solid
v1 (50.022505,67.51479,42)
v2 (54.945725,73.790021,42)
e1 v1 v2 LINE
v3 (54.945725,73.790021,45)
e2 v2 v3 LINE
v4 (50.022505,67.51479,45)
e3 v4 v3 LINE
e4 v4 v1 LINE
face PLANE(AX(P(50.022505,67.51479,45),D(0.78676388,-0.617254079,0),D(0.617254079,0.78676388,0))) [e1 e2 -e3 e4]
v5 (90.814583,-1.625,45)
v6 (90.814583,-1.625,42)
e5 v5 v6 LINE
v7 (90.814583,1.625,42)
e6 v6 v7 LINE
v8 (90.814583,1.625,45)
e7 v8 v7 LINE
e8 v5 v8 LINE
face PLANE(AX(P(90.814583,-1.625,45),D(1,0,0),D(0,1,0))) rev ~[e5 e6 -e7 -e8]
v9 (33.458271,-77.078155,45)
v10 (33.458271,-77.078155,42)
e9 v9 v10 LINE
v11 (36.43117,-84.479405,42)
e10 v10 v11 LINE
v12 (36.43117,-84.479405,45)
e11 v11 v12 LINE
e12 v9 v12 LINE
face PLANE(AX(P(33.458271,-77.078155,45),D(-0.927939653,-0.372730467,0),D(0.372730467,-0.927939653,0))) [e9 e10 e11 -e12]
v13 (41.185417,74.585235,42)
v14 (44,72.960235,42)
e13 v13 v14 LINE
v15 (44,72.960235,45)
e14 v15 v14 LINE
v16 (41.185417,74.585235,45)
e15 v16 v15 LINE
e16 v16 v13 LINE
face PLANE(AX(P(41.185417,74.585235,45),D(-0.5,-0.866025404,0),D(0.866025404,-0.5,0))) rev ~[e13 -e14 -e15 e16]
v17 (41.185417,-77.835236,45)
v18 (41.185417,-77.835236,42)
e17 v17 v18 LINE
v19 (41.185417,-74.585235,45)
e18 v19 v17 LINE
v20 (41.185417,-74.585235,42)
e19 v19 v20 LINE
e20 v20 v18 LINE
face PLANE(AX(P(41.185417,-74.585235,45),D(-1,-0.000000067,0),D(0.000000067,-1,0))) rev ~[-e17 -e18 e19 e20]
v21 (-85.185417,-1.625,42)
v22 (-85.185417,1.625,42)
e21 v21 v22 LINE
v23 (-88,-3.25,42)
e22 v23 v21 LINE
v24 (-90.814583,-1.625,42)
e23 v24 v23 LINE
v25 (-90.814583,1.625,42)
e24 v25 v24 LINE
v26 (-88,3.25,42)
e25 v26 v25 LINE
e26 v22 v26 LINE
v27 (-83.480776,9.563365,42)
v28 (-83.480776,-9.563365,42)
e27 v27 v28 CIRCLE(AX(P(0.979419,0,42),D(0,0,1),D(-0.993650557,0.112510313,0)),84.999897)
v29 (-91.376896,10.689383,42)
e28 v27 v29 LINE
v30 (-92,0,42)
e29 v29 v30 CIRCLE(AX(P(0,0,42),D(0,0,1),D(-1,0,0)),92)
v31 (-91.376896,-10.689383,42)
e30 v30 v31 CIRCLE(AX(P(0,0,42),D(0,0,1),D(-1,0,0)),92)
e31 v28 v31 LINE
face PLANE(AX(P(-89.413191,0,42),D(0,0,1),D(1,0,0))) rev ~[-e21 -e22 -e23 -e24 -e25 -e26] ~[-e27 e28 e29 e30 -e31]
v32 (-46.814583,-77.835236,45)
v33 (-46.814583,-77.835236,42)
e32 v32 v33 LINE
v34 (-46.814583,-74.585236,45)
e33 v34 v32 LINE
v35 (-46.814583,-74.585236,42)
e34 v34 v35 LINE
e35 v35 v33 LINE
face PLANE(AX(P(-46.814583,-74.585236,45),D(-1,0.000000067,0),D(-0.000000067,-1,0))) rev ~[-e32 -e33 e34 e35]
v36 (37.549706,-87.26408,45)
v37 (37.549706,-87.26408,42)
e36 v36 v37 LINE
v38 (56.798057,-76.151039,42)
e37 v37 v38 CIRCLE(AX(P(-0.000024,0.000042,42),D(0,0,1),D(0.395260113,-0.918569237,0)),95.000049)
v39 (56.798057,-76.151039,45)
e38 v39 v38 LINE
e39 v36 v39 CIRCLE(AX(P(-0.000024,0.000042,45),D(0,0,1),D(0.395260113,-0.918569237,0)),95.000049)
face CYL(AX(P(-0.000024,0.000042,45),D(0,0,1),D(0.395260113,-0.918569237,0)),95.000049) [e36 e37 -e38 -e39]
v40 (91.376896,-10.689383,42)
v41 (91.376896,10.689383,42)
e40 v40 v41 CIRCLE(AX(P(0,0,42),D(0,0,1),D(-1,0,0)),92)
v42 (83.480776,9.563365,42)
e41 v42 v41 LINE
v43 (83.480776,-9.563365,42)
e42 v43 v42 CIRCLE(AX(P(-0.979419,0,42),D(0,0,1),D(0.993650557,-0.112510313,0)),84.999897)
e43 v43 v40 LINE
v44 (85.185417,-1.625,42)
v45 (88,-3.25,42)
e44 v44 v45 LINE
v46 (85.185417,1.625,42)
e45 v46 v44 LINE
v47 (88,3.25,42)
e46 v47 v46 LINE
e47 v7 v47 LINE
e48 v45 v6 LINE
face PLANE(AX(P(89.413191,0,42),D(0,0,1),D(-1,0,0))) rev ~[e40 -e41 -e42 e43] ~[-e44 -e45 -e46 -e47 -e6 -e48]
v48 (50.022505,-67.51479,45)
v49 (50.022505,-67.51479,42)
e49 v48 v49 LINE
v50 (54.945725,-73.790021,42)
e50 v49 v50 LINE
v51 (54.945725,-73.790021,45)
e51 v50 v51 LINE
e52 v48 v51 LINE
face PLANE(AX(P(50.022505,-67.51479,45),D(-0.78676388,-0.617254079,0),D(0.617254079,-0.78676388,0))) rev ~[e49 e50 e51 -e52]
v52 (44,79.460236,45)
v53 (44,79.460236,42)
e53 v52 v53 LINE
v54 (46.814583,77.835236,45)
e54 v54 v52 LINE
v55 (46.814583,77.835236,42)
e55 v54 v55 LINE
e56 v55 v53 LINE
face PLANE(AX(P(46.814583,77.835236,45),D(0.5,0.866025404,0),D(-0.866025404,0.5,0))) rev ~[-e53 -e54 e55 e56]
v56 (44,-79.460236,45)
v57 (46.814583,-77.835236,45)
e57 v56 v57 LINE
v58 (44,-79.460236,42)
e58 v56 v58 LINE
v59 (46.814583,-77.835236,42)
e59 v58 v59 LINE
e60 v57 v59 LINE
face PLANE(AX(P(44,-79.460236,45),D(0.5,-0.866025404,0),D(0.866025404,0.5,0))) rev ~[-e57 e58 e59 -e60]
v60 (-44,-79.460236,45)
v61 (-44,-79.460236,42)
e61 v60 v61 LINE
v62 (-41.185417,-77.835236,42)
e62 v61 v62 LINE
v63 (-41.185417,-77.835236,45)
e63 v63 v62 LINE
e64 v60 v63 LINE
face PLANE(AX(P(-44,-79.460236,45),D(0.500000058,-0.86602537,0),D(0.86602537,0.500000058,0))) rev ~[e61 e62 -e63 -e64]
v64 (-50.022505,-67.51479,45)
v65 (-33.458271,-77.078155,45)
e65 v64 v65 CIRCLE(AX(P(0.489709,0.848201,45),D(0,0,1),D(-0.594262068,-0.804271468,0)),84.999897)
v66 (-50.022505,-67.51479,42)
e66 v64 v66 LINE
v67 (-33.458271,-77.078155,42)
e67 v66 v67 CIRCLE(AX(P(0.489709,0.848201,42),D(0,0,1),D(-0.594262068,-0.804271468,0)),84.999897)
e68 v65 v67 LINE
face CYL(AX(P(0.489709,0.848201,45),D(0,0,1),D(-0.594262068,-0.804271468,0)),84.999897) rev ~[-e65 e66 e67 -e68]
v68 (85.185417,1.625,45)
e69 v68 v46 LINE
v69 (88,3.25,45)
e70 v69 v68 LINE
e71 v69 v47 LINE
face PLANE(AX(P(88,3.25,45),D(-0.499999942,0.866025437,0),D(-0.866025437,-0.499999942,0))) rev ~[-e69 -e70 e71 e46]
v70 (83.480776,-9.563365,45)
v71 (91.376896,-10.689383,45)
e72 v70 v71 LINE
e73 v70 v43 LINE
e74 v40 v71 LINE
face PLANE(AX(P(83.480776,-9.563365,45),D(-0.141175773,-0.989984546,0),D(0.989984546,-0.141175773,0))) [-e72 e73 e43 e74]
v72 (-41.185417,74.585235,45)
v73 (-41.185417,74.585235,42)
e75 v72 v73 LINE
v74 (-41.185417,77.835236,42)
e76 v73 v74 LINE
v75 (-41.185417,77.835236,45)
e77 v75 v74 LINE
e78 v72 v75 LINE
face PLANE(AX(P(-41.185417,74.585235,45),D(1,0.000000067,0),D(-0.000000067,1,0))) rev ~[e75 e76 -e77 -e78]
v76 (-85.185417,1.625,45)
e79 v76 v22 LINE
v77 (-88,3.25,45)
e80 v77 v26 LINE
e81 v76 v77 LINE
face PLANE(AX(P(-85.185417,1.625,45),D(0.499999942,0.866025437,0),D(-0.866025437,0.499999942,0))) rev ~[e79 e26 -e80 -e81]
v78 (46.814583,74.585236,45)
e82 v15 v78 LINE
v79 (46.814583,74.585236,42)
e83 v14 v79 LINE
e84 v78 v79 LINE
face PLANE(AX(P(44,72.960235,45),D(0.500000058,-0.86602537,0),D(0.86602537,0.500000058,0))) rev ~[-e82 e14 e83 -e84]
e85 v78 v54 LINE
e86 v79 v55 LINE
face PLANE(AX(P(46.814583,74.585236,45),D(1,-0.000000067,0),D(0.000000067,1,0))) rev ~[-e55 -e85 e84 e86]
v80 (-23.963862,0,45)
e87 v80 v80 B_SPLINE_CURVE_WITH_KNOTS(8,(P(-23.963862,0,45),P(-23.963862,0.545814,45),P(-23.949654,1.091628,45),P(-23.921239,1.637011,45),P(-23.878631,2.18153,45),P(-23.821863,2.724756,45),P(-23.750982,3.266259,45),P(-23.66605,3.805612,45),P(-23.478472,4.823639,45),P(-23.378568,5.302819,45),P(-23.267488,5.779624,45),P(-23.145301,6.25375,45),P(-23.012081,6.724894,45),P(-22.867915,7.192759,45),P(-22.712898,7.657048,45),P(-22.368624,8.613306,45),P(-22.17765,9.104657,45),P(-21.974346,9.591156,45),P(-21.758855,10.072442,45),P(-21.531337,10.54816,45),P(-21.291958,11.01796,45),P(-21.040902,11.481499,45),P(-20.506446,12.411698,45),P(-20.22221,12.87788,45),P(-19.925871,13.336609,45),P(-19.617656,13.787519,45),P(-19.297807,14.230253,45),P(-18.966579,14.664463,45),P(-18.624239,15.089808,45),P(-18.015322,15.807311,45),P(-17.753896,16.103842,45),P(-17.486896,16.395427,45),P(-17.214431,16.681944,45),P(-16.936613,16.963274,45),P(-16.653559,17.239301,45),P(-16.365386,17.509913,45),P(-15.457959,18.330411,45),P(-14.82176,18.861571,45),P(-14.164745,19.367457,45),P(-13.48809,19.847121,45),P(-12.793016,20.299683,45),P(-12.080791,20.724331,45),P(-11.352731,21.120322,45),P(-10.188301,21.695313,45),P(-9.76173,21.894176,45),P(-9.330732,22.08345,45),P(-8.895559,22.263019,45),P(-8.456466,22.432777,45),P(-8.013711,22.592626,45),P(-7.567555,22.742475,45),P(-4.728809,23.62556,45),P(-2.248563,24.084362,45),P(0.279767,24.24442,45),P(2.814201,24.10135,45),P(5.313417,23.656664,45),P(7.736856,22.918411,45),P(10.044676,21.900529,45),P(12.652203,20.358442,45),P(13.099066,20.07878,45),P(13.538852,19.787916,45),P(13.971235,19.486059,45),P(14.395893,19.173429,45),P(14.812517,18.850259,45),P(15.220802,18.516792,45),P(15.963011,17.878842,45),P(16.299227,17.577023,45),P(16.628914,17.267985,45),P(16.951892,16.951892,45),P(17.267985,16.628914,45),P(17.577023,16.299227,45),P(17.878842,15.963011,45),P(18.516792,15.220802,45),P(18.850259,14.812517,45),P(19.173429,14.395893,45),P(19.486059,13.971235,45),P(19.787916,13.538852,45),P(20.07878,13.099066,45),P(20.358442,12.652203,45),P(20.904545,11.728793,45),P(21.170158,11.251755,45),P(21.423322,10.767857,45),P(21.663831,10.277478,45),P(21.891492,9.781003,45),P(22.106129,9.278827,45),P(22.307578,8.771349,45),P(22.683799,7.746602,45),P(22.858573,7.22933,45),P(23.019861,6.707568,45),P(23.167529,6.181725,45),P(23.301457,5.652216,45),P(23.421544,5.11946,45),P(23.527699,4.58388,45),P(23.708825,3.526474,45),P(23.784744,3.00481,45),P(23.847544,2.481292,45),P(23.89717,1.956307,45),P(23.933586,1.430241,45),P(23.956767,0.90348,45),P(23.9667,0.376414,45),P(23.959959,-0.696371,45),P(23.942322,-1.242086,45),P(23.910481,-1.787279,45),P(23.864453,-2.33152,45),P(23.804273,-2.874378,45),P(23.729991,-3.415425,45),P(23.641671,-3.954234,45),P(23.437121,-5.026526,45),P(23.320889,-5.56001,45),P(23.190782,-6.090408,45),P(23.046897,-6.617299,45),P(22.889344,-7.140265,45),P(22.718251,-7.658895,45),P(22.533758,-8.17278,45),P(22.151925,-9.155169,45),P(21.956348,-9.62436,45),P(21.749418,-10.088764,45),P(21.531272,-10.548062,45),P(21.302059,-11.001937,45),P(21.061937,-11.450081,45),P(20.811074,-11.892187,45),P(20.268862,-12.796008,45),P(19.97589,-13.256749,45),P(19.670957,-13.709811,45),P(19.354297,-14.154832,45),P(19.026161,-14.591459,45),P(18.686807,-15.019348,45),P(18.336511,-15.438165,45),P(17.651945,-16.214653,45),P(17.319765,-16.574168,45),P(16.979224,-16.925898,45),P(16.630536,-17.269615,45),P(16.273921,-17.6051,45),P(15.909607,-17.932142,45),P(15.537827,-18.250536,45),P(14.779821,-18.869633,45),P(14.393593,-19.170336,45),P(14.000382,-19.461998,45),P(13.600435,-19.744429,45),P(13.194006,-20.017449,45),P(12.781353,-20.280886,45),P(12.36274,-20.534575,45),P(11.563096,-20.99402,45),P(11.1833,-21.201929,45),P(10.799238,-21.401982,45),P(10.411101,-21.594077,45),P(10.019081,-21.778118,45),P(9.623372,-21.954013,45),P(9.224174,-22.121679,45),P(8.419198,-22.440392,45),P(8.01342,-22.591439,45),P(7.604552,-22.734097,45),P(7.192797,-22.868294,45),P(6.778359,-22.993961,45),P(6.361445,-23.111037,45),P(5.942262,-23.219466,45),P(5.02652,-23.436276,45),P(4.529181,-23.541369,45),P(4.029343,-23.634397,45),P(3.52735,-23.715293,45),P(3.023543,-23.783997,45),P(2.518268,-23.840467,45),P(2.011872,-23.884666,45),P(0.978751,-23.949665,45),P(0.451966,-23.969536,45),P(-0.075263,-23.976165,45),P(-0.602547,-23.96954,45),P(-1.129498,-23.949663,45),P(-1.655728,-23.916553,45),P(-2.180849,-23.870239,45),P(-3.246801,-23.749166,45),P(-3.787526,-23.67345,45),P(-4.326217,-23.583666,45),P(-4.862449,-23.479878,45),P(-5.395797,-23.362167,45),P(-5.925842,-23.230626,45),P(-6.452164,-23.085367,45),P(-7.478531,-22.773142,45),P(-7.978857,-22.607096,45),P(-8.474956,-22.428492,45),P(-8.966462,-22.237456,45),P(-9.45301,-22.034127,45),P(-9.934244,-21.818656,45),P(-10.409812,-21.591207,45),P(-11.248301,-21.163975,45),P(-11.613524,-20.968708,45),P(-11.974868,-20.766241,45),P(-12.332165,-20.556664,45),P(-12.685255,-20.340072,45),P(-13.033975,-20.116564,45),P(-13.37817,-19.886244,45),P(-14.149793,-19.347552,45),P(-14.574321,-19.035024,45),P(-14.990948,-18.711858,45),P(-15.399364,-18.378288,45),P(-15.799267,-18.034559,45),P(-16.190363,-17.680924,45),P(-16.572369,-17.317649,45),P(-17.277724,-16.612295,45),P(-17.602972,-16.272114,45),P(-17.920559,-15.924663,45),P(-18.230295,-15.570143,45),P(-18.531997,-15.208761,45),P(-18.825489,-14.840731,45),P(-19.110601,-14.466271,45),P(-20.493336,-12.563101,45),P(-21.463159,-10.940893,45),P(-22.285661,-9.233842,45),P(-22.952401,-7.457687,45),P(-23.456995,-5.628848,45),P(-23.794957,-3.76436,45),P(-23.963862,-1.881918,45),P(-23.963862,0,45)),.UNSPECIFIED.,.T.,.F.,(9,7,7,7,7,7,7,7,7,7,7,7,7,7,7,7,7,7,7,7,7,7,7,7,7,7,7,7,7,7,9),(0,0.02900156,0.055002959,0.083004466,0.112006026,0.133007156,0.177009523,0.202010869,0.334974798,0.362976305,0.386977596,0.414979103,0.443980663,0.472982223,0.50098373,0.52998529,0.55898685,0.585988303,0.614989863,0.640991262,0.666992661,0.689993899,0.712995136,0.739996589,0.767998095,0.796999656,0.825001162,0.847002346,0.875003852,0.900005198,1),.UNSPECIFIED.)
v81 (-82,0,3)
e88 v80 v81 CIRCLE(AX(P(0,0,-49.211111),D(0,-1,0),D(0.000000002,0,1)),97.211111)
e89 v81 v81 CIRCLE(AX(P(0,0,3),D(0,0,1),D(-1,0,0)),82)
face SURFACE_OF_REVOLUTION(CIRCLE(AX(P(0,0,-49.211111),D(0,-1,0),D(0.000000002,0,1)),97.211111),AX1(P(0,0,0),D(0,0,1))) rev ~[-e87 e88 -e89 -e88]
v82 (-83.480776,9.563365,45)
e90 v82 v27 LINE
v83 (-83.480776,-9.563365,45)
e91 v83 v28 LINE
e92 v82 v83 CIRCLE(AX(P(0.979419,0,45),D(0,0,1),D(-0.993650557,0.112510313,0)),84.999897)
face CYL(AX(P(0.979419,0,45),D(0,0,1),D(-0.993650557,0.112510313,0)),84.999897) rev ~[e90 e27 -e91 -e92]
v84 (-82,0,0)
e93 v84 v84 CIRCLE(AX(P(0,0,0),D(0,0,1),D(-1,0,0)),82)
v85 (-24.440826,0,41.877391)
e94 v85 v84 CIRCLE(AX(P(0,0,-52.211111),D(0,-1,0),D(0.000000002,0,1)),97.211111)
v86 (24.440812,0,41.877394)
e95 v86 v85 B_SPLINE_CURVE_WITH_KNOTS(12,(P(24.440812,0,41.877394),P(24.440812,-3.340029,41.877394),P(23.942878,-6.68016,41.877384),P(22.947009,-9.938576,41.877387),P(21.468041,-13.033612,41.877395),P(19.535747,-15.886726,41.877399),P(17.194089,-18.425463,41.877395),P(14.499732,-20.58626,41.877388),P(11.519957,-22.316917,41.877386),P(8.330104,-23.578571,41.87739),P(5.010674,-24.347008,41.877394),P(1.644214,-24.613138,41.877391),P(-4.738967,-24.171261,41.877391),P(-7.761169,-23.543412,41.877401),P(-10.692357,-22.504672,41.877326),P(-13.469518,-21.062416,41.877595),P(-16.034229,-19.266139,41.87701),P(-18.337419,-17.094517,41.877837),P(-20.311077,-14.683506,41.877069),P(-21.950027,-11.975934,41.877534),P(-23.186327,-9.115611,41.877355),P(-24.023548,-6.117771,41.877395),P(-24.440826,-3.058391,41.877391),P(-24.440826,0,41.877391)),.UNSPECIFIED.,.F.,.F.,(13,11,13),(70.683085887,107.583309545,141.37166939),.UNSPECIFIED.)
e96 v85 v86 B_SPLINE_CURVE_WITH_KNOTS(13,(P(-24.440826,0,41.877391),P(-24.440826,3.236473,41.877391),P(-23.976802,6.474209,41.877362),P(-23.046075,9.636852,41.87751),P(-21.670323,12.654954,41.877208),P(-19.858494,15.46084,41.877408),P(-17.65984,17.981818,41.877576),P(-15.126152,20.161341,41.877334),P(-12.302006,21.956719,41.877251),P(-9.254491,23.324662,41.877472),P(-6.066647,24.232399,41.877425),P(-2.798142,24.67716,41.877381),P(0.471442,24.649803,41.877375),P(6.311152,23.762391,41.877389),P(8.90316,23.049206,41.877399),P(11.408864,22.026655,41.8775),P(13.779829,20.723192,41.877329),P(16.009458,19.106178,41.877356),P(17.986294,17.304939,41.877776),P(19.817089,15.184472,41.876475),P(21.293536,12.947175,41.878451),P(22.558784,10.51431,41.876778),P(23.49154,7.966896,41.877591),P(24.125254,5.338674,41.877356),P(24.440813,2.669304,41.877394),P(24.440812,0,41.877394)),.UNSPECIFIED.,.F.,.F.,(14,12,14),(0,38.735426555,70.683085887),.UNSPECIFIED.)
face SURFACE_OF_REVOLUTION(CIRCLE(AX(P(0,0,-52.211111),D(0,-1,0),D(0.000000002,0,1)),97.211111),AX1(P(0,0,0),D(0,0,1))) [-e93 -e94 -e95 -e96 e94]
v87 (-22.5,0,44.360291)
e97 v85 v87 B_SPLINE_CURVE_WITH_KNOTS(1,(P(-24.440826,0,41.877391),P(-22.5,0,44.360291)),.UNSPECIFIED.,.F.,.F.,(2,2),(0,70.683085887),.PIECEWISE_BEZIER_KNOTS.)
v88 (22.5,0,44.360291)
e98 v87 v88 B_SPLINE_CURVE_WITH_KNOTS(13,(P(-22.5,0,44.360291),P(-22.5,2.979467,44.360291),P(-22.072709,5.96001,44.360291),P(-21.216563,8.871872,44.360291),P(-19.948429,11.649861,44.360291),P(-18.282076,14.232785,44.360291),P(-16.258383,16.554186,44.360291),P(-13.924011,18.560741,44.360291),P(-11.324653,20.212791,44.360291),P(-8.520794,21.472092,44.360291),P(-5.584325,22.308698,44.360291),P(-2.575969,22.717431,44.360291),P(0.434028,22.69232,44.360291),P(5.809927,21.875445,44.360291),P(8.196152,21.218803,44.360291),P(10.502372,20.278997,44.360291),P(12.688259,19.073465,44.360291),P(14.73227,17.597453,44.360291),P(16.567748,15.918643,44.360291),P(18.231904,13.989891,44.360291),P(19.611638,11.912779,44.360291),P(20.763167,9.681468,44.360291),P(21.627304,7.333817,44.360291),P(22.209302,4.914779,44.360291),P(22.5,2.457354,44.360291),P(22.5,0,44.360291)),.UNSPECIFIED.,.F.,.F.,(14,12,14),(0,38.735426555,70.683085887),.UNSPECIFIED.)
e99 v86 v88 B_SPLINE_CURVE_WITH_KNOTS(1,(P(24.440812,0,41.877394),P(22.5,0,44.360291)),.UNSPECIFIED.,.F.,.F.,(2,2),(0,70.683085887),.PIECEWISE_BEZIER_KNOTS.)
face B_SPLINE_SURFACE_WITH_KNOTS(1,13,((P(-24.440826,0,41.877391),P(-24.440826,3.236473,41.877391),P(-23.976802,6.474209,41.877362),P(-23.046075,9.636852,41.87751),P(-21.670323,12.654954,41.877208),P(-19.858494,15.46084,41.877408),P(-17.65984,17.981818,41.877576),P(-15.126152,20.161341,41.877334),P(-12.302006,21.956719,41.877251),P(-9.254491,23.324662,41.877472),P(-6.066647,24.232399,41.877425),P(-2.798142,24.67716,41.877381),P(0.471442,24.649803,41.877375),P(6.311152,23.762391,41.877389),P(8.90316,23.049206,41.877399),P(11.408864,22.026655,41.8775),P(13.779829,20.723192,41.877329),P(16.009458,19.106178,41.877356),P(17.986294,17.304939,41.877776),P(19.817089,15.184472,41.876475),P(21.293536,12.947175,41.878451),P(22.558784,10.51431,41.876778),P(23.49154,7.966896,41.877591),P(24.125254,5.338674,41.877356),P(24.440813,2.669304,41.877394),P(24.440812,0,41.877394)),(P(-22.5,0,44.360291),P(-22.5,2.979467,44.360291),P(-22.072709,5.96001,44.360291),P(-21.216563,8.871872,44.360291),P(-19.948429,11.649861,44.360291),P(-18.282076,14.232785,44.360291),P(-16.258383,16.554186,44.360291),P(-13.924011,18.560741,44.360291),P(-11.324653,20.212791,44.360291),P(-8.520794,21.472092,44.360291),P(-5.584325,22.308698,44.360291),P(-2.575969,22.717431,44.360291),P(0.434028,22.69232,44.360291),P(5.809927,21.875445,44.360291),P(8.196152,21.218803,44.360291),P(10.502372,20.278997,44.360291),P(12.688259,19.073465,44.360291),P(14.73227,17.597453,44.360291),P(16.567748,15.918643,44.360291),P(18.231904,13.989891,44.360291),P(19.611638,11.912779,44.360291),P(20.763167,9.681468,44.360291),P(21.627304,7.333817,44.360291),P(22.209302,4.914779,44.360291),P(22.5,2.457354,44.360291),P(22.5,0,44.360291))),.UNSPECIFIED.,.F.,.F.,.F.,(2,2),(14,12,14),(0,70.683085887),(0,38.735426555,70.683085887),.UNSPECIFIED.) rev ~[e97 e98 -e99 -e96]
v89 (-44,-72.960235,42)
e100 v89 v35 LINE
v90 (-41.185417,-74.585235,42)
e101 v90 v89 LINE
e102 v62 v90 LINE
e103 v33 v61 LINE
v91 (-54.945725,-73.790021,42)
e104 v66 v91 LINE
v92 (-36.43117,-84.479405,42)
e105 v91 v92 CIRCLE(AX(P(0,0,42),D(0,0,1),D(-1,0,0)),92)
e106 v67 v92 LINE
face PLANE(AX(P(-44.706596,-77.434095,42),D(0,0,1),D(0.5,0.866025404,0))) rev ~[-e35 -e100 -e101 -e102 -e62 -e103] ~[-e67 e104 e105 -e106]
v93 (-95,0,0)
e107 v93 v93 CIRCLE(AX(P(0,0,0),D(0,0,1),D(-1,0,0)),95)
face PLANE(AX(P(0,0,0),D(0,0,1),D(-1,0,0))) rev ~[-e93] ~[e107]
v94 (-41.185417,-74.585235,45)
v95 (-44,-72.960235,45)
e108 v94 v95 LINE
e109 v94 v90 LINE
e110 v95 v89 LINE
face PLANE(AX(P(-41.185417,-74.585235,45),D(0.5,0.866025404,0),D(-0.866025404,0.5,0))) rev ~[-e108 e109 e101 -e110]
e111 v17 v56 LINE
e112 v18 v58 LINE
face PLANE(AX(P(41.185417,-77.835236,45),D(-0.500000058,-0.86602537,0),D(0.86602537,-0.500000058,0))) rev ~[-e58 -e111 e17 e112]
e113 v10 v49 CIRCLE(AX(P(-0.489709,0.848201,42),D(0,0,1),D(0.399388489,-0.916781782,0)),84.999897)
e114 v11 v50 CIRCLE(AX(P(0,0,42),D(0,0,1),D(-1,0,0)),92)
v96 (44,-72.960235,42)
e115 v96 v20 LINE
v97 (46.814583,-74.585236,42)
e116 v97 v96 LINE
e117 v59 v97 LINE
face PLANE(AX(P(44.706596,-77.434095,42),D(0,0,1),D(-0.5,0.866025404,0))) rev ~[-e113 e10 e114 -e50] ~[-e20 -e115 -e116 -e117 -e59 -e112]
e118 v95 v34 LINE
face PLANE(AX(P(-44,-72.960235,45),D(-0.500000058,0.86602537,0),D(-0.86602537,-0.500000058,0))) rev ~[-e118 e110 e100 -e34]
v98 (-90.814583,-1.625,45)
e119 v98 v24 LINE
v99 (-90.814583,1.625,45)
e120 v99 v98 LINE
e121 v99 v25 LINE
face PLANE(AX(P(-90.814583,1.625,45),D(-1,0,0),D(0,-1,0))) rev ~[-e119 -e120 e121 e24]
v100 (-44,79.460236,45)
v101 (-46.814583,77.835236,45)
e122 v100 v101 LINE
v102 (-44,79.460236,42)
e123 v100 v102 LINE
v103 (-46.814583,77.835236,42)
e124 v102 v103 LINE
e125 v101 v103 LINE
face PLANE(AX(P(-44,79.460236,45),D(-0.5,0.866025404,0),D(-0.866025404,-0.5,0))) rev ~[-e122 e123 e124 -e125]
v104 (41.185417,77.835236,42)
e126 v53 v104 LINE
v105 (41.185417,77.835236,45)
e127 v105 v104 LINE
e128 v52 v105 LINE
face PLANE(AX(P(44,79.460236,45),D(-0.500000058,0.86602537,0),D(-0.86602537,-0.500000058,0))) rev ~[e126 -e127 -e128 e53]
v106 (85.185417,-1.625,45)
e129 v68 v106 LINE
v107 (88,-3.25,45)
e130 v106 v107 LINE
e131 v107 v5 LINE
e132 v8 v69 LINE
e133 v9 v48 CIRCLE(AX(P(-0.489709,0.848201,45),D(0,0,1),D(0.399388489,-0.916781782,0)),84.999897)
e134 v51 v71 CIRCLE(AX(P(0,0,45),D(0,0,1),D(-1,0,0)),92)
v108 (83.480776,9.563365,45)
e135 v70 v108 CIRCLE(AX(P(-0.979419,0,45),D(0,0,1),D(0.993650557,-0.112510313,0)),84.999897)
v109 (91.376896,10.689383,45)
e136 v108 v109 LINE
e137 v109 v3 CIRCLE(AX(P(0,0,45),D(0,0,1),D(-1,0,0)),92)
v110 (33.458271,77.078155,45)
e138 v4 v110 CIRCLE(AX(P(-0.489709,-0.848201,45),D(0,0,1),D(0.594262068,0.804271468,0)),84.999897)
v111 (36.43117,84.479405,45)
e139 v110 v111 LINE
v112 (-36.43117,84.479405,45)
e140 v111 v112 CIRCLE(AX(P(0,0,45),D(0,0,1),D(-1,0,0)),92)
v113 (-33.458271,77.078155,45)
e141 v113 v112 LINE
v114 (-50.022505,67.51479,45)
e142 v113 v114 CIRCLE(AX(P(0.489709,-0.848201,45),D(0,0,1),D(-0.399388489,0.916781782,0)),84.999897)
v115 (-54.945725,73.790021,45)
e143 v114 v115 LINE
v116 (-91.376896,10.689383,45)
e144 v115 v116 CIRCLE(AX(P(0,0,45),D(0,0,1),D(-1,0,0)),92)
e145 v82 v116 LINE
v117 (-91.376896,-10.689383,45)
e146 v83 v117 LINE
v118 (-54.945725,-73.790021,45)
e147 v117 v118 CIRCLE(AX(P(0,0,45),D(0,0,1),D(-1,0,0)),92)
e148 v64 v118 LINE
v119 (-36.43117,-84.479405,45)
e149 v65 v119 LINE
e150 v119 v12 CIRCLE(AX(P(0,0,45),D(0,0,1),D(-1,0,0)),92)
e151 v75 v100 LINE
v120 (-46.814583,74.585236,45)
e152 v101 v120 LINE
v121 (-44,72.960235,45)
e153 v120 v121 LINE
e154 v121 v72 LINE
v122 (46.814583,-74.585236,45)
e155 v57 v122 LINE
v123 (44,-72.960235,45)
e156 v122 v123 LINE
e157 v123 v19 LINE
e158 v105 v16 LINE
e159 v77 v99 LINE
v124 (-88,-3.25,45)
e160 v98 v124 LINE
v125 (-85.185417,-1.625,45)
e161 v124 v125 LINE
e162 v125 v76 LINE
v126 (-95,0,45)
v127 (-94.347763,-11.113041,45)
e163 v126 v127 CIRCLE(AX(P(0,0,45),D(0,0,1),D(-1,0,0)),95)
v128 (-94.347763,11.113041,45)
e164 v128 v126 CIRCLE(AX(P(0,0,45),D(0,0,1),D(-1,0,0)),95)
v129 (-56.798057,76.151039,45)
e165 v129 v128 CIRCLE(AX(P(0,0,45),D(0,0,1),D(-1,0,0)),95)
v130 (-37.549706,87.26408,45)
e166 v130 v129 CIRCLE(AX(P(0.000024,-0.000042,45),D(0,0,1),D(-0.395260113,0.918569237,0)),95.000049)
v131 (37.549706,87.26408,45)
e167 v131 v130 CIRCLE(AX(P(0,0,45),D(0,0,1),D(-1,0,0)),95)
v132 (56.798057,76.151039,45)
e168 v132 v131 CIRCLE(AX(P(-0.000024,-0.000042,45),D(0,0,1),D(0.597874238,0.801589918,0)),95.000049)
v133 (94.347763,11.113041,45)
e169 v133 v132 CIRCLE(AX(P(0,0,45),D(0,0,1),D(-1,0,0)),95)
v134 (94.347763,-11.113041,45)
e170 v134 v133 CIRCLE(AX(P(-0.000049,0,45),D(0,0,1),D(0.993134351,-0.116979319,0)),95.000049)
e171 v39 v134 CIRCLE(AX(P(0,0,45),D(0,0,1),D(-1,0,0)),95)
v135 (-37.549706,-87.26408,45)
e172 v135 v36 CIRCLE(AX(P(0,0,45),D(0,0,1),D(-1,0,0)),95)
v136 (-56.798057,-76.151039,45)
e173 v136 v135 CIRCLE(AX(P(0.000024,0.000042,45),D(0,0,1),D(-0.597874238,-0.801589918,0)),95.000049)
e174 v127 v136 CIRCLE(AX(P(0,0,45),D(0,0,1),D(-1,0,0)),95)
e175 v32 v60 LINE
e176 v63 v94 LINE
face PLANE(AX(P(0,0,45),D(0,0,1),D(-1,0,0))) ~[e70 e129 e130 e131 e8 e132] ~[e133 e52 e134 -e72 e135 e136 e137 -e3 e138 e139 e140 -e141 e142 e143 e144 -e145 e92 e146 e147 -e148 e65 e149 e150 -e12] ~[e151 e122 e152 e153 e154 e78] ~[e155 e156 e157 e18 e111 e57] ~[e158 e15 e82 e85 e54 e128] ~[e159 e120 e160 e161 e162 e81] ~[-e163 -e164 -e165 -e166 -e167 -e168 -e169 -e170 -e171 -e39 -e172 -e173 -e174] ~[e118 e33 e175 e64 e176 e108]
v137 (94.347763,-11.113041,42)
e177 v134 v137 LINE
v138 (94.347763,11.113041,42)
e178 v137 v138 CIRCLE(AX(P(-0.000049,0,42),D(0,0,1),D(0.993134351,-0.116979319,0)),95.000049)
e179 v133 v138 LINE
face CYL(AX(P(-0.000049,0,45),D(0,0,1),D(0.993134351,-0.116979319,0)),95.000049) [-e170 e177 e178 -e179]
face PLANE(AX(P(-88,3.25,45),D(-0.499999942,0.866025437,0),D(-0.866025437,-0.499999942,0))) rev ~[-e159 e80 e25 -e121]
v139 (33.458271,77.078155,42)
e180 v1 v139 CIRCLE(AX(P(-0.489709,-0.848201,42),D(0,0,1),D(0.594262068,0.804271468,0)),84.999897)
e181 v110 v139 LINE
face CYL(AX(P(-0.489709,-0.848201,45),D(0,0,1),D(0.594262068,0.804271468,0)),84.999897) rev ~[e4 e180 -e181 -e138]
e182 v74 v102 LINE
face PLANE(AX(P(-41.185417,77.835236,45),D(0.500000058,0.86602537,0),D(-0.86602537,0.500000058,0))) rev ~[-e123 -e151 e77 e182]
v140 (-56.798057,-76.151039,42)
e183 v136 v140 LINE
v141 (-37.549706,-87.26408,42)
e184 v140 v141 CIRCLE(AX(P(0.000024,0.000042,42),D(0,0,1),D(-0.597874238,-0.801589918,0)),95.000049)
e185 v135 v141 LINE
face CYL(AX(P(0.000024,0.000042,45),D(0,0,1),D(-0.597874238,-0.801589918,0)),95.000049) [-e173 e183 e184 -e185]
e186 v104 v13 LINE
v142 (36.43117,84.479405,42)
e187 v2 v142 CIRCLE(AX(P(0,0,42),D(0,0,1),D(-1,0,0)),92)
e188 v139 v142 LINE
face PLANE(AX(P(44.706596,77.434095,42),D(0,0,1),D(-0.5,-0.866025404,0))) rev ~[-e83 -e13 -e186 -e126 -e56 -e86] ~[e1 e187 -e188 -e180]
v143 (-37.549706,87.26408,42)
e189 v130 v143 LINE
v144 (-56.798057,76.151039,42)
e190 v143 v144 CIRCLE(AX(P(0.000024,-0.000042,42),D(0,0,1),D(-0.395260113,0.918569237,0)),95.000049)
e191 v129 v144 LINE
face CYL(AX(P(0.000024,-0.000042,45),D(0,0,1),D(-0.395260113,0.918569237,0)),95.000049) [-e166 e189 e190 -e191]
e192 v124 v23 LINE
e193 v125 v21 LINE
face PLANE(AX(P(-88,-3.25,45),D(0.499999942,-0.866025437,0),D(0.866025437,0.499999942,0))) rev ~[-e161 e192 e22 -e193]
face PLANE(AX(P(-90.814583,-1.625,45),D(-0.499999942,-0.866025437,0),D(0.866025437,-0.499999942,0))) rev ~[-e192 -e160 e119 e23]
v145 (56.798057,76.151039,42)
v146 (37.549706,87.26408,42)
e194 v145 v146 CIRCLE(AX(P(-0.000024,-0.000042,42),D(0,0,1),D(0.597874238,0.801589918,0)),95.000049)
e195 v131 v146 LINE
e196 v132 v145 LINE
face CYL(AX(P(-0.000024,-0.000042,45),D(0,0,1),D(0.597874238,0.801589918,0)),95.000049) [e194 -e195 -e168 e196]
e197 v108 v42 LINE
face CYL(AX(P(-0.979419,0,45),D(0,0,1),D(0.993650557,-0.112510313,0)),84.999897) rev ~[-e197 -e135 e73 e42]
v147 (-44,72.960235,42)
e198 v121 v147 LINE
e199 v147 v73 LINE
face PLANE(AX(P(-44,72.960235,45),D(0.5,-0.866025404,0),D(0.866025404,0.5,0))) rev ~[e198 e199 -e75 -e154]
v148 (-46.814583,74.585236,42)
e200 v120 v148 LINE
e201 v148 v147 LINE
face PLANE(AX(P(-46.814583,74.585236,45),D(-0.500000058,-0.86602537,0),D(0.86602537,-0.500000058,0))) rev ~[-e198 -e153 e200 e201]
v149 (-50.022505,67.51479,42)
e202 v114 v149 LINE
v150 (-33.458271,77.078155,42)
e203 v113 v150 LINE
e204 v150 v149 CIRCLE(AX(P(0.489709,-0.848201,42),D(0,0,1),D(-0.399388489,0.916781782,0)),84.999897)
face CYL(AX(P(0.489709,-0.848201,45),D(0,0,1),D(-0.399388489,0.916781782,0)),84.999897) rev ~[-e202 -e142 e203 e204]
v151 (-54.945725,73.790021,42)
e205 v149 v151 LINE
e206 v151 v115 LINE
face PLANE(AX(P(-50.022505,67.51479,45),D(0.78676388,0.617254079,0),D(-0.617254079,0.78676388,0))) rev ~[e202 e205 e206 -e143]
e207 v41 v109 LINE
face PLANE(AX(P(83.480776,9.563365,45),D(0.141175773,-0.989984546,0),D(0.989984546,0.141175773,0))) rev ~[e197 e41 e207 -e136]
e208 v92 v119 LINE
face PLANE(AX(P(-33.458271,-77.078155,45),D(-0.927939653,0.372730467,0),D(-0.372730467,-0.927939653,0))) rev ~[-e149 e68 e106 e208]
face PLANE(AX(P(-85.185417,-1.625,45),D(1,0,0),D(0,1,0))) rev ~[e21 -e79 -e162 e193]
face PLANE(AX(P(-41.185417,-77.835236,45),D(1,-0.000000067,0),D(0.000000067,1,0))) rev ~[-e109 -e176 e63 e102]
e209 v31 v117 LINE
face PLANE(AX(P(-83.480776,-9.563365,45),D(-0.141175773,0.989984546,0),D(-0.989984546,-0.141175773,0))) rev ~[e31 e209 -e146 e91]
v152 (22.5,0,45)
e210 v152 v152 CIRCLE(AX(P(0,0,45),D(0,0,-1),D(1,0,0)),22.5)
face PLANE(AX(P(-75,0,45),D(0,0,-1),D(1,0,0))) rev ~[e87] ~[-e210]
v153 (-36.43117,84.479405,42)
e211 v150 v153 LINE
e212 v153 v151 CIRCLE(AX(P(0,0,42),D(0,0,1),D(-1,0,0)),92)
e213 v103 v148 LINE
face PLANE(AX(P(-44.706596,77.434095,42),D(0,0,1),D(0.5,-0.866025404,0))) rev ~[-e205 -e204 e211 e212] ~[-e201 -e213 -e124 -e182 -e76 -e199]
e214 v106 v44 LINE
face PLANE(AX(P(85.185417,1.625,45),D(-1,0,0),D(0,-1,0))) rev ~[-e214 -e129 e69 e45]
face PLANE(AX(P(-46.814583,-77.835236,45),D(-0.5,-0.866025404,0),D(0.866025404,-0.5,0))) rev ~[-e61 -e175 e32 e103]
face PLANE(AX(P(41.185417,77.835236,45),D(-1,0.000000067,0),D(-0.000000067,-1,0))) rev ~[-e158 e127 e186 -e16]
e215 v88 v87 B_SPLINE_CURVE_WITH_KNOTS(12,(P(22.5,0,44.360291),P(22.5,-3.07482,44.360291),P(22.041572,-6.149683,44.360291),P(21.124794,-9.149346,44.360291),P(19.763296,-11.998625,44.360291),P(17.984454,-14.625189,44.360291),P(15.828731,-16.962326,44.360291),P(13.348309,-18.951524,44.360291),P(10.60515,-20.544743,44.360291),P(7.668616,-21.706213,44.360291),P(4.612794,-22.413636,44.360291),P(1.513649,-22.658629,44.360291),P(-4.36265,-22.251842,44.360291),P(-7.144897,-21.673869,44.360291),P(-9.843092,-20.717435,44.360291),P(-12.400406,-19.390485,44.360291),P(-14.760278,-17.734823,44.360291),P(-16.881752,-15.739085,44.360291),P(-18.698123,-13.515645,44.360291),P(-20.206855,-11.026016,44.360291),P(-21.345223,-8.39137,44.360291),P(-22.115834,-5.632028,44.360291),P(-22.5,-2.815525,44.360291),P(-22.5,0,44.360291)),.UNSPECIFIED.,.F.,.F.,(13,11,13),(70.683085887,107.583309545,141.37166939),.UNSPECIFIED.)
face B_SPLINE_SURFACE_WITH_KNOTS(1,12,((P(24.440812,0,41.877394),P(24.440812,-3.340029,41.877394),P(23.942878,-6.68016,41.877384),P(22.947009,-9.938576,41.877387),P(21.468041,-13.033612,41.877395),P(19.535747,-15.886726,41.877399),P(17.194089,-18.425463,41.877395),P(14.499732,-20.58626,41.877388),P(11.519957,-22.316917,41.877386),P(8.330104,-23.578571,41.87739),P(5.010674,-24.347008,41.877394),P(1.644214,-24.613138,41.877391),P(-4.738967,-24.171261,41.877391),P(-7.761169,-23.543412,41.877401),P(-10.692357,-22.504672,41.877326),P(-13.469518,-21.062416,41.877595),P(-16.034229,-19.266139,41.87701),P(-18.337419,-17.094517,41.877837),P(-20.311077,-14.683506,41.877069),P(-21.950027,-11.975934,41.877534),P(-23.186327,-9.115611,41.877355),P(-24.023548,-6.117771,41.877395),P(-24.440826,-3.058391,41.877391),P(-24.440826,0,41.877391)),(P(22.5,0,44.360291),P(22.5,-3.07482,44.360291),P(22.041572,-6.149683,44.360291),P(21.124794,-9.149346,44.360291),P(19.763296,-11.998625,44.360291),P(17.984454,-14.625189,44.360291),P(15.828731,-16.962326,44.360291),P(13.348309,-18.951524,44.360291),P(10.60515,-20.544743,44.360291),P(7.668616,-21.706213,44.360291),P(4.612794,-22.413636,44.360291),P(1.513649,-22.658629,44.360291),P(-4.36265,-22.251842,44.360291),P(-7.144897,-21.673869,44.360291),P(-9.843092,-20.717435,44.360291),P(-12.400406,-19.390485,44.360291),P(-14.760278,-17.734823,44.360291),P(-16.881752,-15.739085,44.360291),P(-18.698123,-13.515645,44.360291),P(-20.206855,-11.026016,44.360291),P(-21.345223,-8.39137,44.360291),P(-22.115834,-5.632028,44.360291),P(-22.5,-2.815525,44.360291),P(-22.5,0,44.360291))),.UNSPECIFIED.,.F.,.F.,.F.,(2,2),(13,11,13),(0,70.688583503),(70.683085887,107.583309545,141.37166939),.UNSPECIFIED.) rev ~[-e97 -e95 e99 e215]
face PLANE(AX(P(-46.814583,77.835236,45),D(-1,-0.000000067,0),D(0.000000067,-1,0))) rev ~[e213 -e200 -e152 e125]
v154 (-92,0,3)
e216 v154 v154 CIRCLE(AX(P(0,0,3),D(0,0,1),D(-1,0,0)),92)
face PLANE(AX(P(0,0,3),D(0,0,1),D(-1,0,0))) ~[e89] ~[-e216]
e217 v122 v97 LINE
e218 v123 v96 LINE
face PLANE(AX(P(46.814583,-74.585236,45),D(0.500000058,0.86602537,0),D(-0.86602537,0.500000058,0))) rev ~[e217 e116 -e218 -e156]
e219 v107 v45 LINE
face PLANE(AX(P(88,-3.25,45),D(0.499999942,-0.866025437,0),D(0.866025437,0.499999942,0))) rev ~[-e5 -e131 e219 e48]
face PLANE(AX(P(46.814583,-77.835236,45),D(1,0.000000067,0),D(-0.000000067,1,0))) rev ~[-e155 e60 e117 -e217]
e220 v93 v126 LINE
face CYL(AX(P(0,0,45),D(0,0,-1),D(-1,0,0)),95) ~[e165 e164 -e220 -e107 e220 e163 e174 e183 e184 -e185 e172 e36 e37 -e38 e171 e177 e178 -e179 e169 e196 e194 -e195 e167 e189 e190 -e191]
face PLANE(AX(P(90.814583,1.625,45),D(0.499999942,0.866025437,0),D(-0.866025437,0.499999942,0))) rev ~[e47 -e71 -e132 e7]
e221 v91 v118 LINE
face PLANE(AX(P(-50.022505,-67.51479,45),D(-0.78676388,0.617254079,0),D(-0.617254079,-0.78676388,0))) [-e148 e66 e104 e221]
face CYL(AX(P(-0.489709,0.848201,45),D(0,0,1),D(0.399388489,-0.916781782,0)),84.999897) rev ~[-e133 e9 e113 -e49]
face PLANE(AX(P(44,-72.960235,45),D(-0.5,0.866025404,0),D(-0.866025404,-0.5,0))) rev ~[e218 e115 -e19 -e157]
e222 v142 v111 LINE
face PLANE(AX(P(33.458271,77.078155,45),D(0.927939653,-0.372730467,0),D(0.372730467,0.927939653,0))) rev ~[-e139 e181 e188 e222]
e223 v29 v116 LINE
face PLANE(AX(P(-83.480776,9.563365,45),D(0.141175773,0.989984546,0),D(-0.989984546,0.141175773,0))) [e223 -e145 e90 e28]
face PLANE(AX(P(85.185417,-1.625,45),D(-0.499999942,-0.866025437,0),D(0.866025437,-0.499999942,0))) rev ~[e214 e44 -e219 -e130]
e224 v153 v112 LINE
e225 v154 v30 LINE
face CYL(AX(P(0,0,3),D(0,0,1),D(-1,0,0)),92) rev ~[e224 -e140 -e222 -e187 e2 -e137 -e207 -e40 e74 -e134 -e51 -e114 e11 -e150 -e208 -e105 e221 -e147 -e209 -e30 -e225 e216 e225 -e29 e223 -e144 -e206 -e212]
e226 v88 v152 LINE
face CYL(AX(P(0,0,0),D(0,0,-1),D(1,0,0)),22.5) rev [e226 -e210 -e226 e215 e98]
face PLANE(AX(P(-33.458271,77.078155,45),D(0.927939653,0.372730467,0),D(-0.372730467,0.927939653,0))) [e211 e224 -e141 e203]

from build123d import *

# Parameters (mm, degrees)
SKETCH002_W           = 150
SKETCH002_H           = 20
POCKET_DEPTH          = 50
SKETCH001_R           = 22.5
POCKET001_DEPTH       = 45.001
PAD_DEPTH             = 3
POLARPATTERN_COUNT    = 6
POCKET002_DEPTH       = 5
POLARPATTERN001_COUNT = 6
CHAMFER_SIZE          = 2


with BuildPart() as part:
    # Sketch → Revolution (revolve)
    with BuildSketch(Plane.XZ):
        with BuildLine():
            Line((-95, 45), (-95, 0))
            Line((-95, 0), (-82, 0))
            ThreePointArc((0, 45), (-46.768045, 33.010659), (-82, 0))
            Line((0, 45), (0, 48))
            ThreePointArc((0, 48), (-46.768045, 36.010659), (-82, 3))
            Line((-82, 3), (-92, 3))
            Line((-92, 3), (-92, 45))
            Line((-92, 45), (-95, 45))
        make_face()
    revolve(axis=Axis((0, 0, 0), (0, 0, 1)))

    # Sketch002 → Pocket (cut, symmetric)
    with BuildSketch(Plane.XZ):
        with Locations((0, 55)):
            Rectangle(SKETCH002_W, SKETCH002_H)
    extrude(amount=POCKET_DEPTH, both=True, mode=Mode.SUBTRACT)

    # Sketch001 → Pocket001 (cut, through all)
    with BuildSketch(Plane.XY):
        Circle(SKETCH001_R)
    extrude(amount=POCKET001_DEPTH, mode=Mode.SUBTRACT)

    # Sketch003 → Pad (join)
    with BuildSketch(Plane.XY.offset(45)):
        with BuildLine():
            ThreePointArc((-94.347763, 11.113041), (-95, 0), (-94.347763, -11.113041))
            Line((-83.480776, -9.563365), (-94.347763, -11.113041))
            ThreePointArc((-83.480776, 9.563365), (-84.020478, 0), (-83.480776, -9.563365))
            Line((-83.480776, 9.563365), (-94.347763, 11.113041))
        make_face()
    pad = extrude(amount=-PAD_DEPTH)

    # PolarPattern: Pad ×6 about axis
    polarpattern_axis = Axis((0, 0, 0), (0, 0, 1))
    for i in range(1, POLARPATTERN_COUNT):
        add(pad.rotate(polarpattern_axis, i * 360 / POLARPATTERN_COUNT))

    # Sketch004 → Pocket002 (cut)
    with BuildSketch(Plane.XY.offset(45)):
        Polygon((-85.185417, 1.625), (-88, 3.25), (-90.814583, 1.625), (-90.814583, -1.625), (-88, -3.25), (-85.185417, -1.625), align=None)
    pocket002 = extrude(amount=-POCKET002_DEPTH, mode=Mode.SUBTRACT)

    # PolarPattern001: Pocket002 ×6 about axis
    polarpattern001_axis = Axis((0, 0, 0), (0, 0, 1))
    for i in range(1, POLARPATTERN001_COUNT):
        add(pocket002.rotate(polarpattern001_axis, i * 360 / POLARPATTERN001_COUNT), mode=Mode.SUBTRACT)

    # Chamfer
    chamfer_edges = [part.edges().sort_by_distance(p)[0] for p in [
        (0, 22.5, 42.360291),
        (0, -22.5, 42.360291),
    ]]
    chamfer(chamfer_edges, length=CHAMFER_SIZE)


solid = part.part
